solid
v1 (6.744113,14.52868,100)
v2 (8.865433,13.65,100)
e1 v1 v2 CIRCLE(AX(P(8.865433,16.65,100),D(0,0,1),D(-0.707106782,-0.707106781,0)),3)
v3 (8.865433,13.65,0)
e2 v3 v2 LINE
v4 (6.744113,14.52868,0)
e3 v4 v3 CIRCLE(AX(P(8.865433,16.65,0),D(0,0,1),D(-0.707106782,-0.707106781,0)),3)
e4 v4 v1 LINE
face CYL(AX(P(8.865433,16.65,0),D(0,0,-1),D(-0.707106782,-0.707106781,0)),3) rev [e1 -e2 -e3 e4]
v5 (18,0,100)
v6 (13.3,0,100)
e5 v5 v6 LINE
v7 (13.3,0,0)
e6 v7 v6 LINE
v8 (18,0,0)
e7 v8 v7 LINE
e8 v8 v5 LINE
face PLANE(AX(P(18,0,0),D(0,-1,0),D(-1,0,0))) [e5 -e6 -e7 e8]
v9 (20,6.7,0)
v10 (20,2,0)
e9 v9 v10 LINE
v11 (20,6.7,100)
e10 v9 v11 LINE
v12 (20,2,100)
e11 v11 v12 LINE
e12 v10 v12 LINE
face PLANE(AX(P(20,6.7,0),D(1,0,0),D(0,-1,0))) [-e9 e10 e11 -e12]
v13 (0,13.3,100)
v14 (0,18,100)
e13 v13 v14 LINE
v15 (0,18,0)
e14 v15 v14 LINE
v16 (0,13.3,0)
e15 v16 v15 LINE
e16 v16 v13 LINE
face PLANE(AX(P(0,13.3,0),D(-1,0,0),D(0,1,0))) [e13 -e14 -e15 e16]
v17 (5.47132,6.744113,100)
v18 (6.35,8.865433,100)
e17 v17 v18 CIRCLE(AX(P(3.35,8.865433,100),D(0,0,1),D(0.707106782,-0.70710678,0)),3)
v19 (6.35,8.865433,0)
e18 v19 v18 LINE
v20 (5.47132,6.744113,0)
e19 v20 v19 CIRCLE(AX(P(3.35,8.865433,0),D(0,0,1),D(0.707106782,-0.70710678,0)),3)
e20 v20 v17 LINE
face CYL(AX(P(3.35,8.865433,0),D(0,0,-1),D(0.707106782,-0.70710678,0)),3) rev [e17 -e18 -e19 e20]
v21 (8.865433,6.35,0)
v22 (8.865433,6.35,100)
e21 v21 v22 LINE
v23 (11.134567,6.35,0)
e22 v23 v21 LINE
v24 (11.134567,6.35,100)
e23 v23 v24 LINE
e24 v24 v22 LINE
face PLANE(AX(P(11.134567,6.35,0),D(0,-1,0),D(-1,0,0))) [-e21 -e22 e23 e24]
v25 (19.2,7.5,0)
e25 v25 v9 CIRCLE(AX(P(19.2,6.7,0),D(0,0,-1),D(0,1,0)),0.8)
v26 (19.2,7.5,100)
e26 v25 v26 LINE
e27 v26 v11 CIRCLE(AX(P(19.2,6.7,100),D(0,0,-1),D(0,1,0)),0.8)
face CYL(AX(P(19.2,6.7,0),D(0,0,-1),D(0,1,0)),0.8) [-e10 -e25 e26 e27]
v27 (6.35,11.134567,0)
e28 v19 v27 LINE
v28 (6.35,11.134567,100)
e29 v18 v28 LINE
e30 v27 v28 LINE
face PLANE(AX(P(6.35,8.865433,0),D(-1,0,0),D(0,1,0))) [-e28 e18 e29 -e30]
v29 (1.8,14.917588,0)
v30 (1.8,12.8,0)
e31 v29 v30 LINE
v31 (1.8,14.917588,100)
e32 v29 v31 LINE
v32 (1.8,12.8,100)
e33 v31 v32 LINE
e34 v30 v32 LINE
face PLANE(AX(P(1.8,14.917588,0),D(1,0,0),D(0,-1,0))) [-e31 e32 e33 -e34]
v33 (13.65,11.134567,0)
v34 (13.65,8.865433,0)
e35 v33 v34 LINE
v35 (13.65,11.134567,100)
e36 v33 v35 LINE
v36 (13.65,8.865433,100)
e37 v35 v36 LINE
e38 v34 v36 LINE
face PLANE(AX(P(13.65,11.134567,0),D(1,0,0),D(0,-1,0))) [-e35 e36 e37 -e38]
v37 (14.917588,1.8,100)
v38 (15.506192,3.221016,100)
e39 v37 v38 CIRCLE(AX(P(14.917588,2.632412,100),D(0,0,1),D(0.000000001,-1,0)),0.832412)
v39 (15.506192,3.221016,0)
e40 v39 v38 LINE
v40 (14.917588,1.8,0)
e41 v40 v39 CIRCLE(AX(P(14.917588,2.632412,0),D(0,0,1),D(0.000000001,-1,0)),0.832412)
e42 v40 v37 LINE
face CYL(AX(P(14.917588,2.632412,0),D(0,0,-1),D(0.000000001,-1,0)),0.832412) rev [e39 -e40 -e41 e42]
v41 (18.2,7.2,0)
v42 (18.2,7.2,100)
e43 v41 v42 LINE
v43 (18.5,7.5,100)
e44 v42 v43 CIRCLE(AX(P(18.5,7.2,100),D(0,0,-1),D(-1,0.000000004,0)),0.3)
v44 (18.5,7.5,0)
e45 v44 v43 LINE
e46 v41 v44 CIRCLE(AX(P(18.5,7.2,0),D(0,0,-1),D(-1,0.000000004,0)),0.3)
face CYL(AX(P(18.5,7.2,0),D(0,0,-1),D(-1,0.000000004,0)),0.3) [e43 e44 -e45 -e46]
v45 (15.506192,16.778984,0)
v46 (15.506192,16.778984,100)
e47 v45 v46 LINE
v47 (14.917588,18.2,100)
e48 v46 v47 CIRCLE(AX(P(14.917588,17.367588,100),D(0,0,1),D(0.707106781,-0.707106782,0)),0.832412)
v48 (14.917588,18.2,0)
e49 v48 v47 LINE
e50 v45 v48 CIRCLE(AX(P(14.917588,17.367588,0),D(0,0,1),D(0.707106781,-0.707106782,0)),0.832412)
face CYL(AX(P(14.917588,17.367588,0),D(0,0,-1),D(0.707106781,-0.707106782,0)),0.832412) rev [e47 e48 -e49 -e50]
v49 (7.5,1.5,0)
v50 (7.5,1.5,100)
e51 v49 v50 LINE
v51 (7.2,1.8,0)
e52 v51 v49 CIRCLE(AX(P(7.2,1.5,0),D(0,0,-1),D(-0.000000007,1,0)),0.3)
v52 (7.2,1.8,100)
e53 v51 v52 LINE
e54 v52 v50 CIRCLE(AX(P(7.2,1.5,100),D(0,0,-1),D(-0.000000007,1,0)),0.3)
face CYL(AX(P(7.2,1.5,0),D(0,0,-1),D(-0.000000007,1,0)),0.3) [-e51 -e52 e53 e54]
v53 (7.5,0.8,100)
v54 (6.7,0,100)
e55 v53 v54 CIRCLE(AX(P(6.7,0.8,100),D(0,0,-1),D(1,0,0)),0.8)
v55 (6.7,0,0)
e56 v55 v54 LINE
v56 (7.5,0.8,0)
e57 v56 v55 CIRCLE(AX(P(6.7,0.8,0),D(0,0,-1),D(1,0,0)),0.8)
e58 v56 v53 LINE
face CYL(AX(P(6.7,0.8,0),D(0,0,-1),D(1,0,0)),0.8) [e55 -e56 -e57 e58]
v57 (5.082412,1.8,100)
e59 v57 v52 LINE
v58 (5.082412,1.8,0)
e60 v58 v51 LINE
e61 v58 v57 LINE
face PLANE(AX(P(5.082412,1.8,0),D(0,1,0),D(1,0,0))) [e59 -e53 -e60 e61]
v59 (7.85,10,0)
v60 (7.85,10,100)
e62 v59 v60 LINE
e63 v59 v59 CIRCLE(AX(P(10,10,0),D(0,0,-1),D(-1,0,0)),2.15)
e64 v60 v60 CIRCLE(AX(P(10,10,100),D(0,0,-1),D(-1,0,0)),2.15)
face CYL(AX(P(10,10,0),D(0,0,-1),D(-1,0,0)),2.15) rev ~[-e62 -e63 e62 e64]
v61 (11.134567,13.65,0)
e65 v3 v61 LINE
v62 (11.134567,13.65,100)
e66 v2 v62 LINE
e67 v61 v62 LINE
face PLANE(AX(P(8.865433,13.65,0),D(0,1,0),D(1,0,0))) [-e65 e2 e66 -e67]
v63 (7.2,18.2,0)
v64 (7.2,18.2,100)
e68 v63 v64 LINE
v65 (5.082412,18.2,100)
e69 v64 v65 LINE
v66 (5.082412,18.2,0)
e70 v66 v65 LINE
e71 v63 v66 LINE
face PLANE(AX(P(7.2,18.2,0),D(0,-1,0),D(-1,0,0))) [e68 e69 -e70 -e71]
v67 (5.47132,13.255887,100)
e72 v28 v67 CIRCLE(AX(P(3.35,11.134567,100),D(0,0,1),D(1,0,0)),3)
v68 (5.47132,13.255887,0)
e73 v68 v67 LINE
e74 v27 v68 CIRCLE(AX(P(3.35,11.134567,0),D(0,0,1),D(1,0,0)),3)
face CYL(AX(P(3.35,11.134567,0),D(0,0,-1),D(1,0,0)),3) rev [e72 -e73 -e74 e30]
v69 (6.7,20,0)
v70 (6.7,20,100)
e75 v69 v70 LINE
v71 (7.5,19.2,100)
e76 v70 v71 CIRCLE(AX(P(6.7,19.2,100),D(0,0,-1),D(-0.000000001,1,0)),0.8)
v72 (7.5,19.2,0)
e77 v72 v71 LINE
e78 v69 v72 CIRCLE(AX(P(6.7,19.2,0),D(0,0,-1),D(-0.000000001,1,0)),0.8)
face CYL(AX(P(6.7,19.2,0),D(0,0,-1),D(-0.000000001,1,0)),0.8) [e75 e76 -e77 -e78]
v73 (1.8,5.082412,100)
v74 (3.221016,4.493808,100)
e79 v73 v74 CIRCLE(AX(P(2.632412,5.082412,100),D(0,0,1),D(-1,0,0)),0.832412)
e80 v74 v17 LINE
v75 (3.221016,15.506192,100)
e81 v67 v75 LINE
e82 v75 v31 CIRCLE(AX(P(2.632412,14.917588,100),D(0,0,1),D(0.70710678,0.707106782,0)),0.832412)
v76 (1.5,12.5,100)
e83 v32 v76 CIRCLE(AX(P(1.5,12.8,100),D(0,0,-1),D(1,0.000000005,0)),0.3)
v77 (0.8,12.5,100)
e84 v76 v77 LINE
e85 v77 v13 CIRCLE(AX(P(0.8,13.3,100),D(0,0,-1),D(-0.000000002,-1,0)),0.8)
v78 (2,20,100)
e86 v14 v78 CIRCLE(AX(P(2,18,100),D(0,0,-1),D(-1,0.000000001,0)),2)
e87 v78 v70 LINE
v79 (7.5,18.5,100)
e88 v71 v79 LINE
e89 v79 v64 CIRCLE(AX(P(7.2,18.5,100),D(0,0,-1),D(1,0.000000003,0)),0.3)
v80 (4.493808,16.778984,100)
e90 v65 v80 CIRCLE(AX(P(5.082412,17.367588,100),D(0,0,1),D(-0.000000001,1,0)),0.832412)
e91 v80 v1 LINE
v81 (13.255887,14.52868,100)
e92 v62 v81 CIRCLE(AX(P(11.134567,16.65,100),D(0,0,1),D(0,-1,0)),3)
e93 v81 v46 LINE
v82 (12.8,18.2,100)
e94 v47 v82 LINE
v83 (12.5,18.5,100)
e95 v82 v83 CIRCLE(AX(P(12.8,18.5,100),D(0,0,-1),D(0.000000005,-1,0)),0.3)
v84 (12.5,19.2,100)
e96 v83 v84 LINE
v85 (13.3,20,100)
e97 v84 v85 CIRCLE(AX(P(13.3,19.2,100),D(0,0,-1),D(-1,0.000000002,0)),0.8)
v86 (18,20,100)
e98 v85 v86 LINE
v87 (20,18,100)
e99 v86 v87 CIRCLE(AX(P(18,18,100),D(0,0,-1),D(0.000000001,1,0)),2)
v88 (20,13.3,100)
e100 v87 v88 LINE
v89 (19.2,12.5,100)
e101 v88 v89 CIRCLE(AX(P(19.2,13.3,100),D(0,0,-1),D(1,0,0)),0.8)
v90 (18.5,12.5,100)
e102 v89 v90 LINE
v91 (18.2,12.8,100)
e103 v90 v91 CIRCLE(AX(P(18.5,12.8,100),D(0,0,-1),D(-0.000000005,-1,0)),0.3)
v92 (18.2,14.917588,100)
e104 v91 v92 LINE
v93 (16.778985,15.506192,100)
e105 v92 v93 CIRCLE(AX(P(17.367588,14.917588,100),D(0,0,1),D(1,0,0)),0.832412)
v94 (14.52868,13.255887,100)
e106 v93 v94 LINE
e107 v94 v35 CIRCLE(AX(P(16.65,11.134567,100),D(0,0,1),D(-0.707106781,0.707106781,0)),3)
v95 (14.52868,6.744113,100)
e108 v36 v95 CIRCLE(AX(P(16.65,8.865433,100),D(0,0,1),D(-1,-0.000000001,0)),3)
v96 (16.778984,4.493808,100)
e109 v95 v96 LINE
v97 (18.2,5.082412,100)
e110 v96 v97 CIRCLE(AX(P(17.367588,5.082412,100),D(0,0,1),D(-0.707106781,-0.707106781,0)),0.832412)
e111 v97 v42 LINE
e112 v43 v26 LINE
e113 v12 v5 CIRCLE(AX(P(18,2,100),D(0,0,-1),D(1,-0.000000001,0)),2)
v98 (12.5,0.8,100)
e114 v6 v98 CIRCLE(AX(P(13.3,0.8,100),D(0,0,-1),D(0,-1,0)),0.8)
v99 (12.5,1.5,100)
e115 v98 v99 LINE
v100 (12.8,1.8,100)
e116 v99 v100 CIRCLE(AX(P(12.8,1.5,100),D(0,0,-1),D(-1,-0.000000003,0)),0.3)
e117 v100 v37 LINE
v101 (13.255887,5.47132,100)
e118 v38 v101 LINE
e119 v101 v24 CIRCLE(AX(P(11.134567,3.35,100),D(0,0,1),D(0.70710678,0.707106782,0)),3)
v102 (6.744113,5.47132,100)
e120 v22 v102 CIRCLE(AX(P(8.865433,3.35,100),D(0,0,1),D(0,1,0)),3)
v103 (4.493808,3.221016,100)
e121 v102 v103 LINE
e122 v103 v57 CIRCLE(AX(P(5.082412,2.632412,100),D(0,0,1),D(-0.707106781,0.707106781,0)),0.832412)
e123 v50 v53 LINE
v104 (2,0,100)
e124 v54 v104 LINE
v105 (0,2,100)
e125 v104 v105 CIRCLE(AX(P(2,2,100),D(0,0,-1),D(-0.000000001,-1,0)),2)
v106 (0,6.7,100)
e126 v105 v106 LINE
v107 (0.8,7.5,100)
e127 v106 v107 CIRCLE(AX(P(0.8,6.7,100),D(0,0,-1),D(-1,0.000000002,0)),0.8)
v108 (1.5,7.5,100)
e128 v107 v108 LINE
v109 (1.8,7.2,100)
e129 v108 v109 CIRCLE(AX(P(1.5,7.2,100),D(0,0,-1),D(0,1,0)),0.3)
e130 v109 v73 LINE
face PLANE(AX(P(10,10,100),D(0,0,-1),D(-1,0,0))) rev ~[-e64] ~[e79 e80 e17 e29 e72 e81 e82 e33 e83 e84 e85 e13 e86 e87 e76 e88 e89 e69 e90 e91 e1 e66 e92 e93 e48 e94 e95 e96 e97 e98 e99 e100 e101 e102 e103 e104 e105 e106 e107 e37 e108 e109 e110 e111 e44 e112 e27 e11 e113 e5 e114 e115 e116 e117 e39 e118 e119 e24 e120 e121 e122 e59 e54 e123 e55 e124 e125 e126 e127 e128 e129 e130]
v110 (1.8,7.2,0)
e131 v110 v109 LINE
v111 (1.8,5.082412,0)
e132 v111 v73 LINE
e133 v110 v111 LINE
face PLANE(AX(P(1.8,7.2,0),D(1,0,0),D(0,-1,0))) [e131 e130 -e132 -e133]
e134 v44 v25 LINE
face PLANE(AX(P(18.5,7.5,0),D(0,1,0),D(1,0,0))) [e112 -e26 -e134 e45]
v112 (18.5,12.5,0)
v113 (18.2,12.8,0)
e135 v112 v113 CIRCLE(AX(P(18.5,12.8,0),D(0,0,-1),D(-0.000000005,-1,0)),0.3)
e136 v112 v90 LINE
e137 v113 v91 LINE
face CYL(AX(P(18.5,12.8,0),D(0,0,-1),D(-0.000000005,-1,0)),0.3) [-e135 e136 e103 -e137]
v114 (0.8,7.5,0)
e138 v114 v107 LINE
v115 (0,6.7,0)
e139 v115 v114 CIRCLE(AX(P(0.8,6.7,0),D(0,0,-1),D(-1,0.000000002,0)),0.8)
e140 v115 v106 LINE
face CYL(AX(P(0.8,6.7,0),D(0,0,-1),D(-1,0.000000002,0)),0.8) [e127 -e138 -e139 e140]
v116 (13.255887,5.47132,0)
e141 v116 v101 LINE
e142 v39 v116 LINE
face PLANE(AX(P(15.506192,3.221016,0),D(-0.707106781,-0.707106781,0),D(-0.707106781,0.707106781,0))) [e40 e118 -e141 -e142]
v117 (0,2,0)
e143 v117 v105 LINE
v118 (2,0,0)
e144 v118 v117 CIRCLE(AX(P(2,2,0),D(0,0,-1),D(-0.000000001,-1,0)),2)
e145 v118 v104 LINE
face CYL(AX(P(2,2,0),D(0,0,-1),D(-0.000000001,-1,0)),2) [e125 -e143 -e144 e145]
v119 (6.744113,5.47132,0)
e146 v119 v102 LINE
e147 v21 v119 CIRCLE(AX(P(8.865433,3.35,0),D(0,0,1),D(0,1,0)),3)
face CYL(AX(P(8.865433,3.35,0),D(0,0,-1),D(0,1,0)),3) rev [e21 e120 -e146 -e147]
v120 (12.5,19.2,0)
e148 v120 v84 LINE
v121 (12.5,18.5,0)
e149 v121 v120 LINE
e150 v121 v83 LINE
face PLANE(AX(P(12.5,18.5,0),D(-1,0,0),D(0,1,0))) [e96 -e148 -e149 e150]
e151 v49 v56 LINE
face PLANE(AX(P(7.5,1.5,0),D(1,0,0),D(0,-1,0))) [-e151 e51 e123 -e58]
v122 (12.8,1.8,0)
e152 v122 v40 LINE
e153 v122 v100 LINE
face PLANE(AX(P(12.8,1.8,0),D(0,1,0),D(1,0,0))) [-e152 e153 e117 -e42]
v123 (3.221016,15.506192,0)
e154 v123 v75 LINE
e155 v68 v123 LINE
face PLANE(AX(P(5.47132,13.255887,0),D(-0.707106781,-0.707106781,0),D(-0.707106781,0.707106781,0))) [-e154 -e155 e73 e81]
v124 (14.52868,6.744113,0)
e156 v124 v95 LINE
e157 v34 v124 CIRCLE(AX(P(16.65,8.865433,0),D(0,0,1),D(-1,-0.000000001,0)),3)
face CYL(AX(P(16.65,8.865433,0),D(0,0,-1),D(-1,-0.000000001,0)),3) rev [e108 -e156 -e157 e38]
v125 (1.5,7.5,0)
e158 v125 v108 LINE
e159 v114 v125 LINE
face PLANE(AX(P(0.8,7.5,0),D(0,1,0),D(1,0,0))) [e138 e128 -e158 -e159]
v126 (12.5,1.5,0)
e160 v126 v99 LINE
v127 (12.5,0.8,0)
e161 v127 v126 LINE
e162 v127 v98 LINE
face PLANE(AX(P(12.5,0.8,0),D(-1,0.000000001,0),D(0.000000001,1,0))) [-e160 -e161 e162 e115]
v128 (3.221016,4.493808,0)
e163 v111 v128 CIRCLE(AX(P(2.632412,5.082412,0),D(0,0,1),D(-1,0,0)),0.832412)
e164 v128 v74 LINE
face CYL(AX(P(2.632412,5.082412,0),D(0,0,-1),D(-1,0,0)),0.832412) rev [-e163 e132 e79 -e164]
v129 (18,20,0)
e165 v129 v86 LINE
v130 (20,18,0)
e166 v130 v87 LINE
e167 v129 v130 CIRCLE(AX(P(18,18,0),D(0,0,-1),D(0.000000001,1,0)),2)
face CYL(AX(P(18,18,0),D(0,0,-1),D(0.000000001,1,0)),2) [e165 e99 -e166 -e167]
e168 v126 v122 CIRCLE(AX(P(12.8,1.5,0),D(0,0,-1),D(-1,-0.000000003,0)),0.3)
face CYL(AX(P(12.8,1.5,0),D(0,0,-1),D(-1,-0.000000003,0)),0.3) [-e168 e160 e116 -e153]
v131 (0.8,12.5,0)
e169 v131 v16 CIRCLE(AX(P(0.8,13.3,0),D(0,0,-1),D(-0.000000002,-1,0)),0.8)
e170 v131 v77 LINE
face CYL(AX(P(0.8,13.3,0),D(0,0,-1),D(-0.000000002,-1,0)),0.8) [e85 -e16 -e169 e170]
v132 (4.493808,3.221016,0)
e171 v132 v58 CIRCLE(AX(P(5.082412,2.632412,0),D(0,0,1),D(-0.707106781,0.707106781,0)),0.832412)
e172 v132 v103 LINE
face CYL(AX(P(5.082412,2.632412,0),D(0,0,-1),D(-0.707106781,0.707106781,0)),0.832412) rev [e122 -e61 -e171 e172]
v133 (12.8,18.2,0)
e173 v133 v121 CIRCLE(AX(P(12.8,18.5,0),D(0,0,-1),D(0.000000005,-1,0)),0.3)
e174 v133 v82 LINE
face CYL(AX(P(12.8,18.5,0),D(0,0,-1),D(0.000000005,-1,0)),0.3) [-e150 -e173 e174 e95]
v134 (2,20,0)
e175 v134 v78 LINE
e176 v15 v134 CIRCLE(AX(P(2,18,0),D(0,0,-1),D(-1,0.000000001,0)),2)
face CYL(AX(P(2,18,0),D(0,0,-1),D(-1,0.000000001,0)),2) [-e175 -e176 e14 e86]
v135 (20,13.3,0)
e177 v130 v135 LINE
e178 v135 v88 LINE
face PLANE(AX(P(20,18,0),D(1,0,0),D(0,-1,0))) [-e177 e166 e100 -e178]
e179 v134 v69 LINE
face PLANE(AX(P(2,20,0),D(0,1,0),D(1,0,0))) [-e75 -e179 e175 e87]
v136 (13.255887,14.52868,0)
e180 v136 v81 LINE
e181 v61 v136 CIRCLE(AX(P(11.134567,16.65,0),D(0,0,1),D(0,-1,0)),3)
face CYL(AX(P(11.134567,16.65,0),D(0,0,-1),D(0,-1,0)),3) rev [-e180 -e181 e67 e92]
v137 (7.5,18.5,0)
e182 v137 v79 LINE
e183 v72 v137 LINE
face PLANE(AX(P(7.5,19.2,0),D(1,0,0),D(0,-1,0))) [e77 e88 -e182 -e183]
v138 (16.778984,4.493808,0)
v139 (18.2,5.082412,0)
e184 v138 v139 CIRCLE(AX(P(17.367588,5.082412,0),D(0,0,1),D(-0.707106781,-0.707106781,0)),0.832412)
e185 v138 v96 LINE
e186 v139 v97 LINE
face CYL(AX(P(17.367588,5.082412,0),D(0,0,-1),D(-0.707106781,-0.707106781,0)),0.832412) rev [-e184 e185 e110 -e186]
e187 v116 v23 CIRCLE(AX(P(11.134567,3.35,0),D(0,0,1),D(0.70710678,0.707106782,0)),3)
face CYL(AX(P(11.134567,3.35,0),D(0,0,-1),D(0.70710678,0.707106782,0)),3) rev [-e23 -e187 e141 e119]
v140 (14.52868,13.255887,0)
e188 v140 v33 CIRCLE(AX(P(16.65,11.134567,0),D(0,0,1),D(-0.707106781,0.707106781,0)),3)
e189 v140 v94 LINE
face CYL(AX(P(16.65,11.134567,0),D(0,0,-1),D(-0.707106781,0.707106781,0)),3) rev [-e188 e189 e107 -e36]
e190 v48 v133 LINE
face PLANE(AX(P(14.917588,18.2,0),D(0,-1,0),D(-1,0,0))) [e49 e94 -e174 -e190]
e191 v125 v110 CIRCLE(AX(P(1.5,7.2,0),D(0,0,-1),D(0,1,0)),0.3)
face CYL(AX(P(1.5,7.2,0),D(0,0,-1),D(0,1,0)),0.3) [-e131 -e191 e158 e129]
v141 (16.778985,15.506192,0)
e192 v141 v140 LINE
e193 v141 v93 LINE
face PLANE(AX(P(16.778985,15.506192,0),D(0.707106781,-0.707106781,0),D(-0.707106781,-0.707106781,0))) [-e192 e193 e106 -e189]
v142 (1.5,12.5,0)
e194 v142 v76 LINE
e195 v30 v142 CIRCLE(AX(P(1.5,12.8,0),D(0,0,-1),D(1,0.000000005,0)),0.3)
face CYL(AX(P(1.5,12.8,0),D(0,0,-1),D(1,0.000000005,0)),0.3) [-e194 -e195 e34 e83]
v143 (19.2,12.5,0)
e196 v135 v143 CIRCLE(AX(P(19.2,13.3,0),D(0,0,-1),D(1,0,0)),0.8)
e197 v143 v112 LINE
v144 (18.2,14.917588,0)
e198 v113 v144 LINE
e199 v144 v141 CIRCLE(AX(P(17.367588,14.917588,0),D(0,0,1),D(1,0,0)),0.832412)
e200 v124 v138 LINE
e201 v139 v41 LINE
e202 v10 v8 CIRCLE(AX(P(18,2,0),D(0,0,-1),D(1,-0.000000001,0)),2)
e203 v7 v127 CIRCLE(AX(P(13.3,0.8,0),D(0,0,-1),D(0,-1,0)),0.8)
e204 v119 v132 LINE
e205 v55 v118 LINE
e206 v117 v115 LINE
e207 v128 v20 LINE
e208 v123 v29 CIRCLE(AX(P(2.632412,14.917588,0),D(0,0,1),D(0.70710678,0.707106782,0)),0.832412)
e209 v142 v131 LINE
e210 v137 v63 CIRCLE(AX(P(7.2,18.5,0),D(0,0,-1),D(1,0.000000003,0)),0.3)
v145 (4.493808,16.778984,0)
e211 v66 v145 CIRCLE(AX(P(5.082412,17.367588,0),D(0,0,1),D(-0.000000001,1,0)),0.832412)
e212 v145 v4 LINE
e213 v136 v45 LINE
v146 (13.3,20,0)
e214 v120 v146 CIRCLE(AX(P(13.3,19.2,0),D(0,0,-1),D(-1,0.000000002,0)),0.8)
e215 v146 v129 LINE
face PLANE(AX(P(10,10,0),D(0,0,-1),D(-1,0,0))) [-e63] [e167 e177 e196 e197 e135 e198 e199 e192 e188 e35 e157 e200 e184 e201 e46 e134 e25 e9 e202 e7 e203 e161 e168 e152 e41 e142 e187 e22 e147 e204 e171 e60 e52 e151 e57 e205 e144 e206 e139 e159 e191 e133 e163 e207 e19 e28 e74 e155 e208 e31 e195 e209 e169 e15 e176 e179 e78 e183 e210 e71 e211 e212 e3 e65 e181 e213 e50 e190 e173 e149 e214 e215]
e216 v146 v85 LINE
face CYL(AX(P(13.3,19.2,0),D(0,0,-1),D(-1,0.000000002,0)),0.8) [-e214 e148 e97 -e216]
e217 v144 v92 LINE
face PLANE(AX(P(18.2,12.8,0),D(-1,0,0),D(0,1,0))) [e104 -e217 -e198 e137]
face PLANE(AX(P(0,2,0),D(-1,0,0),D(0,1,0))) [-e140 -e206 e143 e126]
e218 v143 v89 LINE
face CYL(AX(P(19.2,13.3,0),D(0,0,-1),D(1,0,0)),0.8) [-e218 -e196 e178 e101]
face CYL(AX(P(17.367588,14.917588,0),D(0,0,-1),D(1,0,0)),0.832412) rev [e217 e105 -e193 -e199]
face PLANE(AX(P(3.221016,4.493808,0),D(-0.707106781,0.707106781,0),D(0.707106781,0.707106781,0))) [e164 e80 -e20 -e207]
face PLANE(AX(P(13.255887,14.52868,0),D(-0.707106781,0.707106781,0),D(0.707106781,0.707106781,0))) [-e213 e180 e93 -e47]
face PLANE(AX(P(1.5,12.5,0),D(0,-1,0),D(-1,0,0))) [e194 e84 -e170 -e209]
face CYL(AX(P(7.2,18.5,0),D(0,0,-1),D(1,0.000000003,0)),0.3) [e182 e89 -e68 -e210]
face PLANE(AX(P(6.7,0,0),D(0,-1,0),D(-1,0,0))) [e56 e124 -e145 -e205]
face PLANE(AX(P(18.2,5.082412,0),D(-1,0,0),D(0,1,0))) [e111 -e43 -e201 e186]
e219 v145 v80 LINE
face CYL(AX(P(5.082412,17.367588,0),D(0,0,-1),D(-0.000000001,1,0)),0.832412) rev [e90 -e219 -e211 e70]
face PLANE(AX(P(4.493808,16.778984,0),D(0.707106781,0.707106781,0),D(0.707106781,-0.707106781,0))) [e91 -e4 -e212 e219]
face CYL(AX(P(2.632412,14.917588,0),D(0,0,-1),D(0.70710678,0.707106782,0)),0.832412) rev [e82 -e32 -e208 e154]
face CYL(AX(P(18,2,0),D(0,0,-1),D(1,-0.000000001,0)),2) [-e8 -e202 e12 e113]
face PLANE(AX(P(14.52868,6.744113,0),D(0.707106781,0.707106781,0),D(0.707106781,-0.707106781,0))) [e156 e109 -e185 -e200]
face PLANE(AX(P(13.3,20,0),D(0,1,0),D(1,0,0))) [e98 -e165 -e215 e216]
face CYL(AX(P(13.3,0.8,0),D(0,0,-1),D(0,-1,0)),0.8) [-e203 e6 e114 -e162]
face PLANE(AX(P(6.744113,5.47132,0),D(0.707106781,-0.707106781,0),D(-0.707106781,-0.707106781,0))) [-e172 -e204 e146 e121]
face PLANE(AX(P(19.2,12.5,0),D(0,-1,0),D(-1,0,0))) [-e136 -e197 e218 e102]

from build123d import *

# Parameters (mm, degrees)
SKETCH1_R           = 2.15
BOSS_EXTRUDE1_DEPTH = 100


with BuildPart() as part:
    # Sketch1 → Boss-Extrude1 (new body)
    with BuildSketch(Plane(origin=(0, 0, 0), x_dir=(-1, 0, 0), z_dir=(0, 0, -1))):
        with BuildLine():
            Line((-12.499999997, 0.800000003), (-12.499999998, 1.500000003))
            ThreePointArc((-12.499999998, 1.500000003), (-12.587867964, 1.712132039), (-12.8, 1.800000005))
            Line((-12.8, 1.800000005), (-14.9175884, 1.800000005))
            ThreePointArc((-14.9175884, 1.800000005), (-15.686636445, 2.313861481), (-15.506192291, 3.221015502))
            Line((-15.506192291, 3.221015502), (-13.255887451, 5.471320342))
            ThreePointArc((-13.255887451, 5.471320342), (-12.282617405, 6.121638595), (-11.134567109, 6.349999998))
            Line((-11.134567109, 6.349999998), (-8.865432906, 6.349999998))
            ThreePointArc((-8.865432906, 6.349999998), (-7.717382611, 6.121638596), (-6.744112565, 5.471320342))
            Line((-6.744112565, 5.471320342), (-4.493807727, 3.221015504))
            ThreePointArc((-4.493807727, 3.221015504), (-4.313363573, 2.313861481), (-5.082411619, 1.800000005))
            Line((-5.082411619, 1.800000005), (-7.20000001, 1.800000005))
            ThreePointArc((-7.20000001, 1.800000005), (-7.412132045, 1.71213204), (-7.50000001, 1.500000005))
            Line((-7.50000001, 1.500000005), (-7.50000001, 0.8))
            ThreePointArc((-7.50000001, 0.8), (-7.265685435, 0.234314575), (-6.70000001, 0))
            Line((-6.70000001, 0), (-2, 0))
            ThreePointArc((-2, 0), (-0.585786438, 0.585786438), (0, 2))
            Line((0, 2), (0, 6.699999998))
            ThreePointArc((0, 6.699999998), (-0.234314576, 7.265685424), (-0.800000003, 7.5))
            Line((-0.800000003, 7.5), (-1.500000007, 7.5))
            ThreePointArc((-1.500000007, 7.5), (-1.712132044, 7.412132033), (-1.80000001, 7.199999997))
            Line((-1.80000001, 7.199999997), (-1.80000001, 5.082411604))
            ThreePointArc((-1.80000001, 5.082411604), (-2.313861485, 4.313363559), (-3.221015507, 4.493807713))
            Line((-3.221015507, 4.493807713), (-5.471320347, 6.744112553))
            ThreePointArc((-5.471320347, 6.744112553), (-6.1216386, 7.717382599), (-6.350000003, 8.865432896))
            Line((-6.350000003, 8.865432896), (-6.350000003, 11.134567105))
            ThreePointArc((-6.350000003, 11.134567105), (-6.121638601, 12.2826174), (-5.471320347, 13.255887446))
            Line((-5.471320347, 13.255887446), (-3.221015511, 15.506192282))
            ThreePointArc((-3.221015511, 15.506192282), (-2.313861487, 15.686636436), (-1.80000001, 14.917588389))
            Line((-1.80000001, 14.917588389), (-1.80000001, 12.799999998))
            ThreePointArc((-1.80000001, 12.799999998), (-1.712132045, 12.587867963), (-1.50000001, 12.499999997))
            Line((-1.50000001, 12.499999997), (-0.8, 12.499999997))
            ThreePointArc((-0.8, 12.499999997), (-0.234314575, 12.734314573), (0, 13.299999998))
            Line((0, 13.299999998), (0, 18))
            ThreePointArc((0, 18), (-0.585786438, 19.414213562), (-2, 20))
            Line((-2, 20), (-6.700000008, 20))
            ThreePointArc((-6.700000008, 20), (-7.265685435, 19.765685424), (-7.50000001, 19.199999998))
            Line((-7.50000001, 19.199999998), (-7.50000001, 18.500000005))
            ThreePointArc((-7.50000001, 18.500000005), (-7.412132044, 18.287867969), (-7.200000008, 18.200000003))
            Line((-7.200000008, 18.200000003), (-5.082411595, 18.200000003))
            ThreePointArc((-5.082411595, 18.200000003), (-4.313363547, 17.686138525), (-4.493807702, 16.7789845))
            Line((-4.493807702, 16.7789845), (-6.744112543, 14.528679659))
            ThreePointArc((-6.744112543, 14.528679659), (-7.717382589, 13.878361405), (-8.865432885, 13.650000003))
            Line((-8.865432885, 13.650000003), (-11.134567111, 13.650000003))
            ThreePointArc((-11.134567111, 13.650000003), (-12.282617406, 13.878361405), (-13.255887452, 14.528679658))
            Line((-13.255887452, 14.528679658), (-15.506192292, 16.778984498))
            ThreePointArc((-15.506192292, 16.778984498), (-15.686636447, 17.686138525), (-14.917588397, 18.200000002))
            Line((-14.917588397, 18.200000002), (-12.799999998, 18.200000003))
            ThreePointArc((-12.799999998, 18.200000003), (-12.587867963, 18.287867968), (-12.499999997, 18.500000002))
            Line((-12.499999997, 18.500000002), (-12.499999997, 19.2))
            ThreePointArc((-12.499999997, 19.2), (-12.734314573, 19.765685425), (-13.299999998, 20))
            Line((-13.299999998, 20), (-18, 20))
            ThreePointArc((-18, 20), (-19.414213562, 19.414213562), (-20, 18))
            Line((-20, 18), (-20, 13.3))
            ThreePointArc((-20, 13.3), (-19.765685424, 12.734314573), (-19.199999998, 12.499999997))
            Line((-19.199999998, 12.499999997), (-18.500000003, 12.499999997))
            ThreePointArc((-18.500000003, 12.499999997), (-18.287867967, 12.587867964), (-18.2, 12.8))
            Line((-18.2, 12.8), (-18.2, 14.91758839))
            ThreePointArc((-18.2, 14.91758839), (-17.686138525, 15.686636435), (-16.778984504, 15.506192281))
            Line((-16.778984504, 15.506192281), (-14.528679657, 13.255887434))
            ThreePointArc((-14.528679657, 13.255887434), (-13.878361403, 12.282617388), (-13.65, 11.134567091))
            Line((-13.65, 11.134567091), (-13.65, 8.865432887))
            ThreePointArc((-13.65, 8.865432887), (-13.878361403, 7.717382591), (-14.528679656, 6.744112546))
            Line((-14.528679656, 6.744112546), (-16.778984496, 4.493807706))
            ThreePointArc((-16.778984496, 4.493807706), (-17.686138522, 4.313363551), (-18.2, 5.0824116))
            Line((-18.2, 5.0824116), (-18.2, 7.2))
            ThreePointArc((-18.2, 7.2), (-18.287867966, 7.412132034), (-18.5, 7.5))
            Line((-18.5, 7.5), (-19.2, 7.5))
            ThreePointArc((-19.2, 7.5), (-19.765685425, 7.265685425), (-20, 6.7))
            Line((-20, 6.7), (-20, 2))
            ThreePointArc((-20, 2), (-19.414213562, 0.585786438), (-18, 0))
            Line((-18, 0), (-13.3, 0))
            ThreePointArc((-13.3, 0), (-12.734314573, 0.234314576), (-12.499999997, 0.800000003))
        make_face()
        with Locations((-10, 10)):
            Circle(SKETCH1_R, mode=Mode.SUBTRACT)
    extrude(amount=-BOSS_EXTRUDE1_DEPTH)


solid = part.part
